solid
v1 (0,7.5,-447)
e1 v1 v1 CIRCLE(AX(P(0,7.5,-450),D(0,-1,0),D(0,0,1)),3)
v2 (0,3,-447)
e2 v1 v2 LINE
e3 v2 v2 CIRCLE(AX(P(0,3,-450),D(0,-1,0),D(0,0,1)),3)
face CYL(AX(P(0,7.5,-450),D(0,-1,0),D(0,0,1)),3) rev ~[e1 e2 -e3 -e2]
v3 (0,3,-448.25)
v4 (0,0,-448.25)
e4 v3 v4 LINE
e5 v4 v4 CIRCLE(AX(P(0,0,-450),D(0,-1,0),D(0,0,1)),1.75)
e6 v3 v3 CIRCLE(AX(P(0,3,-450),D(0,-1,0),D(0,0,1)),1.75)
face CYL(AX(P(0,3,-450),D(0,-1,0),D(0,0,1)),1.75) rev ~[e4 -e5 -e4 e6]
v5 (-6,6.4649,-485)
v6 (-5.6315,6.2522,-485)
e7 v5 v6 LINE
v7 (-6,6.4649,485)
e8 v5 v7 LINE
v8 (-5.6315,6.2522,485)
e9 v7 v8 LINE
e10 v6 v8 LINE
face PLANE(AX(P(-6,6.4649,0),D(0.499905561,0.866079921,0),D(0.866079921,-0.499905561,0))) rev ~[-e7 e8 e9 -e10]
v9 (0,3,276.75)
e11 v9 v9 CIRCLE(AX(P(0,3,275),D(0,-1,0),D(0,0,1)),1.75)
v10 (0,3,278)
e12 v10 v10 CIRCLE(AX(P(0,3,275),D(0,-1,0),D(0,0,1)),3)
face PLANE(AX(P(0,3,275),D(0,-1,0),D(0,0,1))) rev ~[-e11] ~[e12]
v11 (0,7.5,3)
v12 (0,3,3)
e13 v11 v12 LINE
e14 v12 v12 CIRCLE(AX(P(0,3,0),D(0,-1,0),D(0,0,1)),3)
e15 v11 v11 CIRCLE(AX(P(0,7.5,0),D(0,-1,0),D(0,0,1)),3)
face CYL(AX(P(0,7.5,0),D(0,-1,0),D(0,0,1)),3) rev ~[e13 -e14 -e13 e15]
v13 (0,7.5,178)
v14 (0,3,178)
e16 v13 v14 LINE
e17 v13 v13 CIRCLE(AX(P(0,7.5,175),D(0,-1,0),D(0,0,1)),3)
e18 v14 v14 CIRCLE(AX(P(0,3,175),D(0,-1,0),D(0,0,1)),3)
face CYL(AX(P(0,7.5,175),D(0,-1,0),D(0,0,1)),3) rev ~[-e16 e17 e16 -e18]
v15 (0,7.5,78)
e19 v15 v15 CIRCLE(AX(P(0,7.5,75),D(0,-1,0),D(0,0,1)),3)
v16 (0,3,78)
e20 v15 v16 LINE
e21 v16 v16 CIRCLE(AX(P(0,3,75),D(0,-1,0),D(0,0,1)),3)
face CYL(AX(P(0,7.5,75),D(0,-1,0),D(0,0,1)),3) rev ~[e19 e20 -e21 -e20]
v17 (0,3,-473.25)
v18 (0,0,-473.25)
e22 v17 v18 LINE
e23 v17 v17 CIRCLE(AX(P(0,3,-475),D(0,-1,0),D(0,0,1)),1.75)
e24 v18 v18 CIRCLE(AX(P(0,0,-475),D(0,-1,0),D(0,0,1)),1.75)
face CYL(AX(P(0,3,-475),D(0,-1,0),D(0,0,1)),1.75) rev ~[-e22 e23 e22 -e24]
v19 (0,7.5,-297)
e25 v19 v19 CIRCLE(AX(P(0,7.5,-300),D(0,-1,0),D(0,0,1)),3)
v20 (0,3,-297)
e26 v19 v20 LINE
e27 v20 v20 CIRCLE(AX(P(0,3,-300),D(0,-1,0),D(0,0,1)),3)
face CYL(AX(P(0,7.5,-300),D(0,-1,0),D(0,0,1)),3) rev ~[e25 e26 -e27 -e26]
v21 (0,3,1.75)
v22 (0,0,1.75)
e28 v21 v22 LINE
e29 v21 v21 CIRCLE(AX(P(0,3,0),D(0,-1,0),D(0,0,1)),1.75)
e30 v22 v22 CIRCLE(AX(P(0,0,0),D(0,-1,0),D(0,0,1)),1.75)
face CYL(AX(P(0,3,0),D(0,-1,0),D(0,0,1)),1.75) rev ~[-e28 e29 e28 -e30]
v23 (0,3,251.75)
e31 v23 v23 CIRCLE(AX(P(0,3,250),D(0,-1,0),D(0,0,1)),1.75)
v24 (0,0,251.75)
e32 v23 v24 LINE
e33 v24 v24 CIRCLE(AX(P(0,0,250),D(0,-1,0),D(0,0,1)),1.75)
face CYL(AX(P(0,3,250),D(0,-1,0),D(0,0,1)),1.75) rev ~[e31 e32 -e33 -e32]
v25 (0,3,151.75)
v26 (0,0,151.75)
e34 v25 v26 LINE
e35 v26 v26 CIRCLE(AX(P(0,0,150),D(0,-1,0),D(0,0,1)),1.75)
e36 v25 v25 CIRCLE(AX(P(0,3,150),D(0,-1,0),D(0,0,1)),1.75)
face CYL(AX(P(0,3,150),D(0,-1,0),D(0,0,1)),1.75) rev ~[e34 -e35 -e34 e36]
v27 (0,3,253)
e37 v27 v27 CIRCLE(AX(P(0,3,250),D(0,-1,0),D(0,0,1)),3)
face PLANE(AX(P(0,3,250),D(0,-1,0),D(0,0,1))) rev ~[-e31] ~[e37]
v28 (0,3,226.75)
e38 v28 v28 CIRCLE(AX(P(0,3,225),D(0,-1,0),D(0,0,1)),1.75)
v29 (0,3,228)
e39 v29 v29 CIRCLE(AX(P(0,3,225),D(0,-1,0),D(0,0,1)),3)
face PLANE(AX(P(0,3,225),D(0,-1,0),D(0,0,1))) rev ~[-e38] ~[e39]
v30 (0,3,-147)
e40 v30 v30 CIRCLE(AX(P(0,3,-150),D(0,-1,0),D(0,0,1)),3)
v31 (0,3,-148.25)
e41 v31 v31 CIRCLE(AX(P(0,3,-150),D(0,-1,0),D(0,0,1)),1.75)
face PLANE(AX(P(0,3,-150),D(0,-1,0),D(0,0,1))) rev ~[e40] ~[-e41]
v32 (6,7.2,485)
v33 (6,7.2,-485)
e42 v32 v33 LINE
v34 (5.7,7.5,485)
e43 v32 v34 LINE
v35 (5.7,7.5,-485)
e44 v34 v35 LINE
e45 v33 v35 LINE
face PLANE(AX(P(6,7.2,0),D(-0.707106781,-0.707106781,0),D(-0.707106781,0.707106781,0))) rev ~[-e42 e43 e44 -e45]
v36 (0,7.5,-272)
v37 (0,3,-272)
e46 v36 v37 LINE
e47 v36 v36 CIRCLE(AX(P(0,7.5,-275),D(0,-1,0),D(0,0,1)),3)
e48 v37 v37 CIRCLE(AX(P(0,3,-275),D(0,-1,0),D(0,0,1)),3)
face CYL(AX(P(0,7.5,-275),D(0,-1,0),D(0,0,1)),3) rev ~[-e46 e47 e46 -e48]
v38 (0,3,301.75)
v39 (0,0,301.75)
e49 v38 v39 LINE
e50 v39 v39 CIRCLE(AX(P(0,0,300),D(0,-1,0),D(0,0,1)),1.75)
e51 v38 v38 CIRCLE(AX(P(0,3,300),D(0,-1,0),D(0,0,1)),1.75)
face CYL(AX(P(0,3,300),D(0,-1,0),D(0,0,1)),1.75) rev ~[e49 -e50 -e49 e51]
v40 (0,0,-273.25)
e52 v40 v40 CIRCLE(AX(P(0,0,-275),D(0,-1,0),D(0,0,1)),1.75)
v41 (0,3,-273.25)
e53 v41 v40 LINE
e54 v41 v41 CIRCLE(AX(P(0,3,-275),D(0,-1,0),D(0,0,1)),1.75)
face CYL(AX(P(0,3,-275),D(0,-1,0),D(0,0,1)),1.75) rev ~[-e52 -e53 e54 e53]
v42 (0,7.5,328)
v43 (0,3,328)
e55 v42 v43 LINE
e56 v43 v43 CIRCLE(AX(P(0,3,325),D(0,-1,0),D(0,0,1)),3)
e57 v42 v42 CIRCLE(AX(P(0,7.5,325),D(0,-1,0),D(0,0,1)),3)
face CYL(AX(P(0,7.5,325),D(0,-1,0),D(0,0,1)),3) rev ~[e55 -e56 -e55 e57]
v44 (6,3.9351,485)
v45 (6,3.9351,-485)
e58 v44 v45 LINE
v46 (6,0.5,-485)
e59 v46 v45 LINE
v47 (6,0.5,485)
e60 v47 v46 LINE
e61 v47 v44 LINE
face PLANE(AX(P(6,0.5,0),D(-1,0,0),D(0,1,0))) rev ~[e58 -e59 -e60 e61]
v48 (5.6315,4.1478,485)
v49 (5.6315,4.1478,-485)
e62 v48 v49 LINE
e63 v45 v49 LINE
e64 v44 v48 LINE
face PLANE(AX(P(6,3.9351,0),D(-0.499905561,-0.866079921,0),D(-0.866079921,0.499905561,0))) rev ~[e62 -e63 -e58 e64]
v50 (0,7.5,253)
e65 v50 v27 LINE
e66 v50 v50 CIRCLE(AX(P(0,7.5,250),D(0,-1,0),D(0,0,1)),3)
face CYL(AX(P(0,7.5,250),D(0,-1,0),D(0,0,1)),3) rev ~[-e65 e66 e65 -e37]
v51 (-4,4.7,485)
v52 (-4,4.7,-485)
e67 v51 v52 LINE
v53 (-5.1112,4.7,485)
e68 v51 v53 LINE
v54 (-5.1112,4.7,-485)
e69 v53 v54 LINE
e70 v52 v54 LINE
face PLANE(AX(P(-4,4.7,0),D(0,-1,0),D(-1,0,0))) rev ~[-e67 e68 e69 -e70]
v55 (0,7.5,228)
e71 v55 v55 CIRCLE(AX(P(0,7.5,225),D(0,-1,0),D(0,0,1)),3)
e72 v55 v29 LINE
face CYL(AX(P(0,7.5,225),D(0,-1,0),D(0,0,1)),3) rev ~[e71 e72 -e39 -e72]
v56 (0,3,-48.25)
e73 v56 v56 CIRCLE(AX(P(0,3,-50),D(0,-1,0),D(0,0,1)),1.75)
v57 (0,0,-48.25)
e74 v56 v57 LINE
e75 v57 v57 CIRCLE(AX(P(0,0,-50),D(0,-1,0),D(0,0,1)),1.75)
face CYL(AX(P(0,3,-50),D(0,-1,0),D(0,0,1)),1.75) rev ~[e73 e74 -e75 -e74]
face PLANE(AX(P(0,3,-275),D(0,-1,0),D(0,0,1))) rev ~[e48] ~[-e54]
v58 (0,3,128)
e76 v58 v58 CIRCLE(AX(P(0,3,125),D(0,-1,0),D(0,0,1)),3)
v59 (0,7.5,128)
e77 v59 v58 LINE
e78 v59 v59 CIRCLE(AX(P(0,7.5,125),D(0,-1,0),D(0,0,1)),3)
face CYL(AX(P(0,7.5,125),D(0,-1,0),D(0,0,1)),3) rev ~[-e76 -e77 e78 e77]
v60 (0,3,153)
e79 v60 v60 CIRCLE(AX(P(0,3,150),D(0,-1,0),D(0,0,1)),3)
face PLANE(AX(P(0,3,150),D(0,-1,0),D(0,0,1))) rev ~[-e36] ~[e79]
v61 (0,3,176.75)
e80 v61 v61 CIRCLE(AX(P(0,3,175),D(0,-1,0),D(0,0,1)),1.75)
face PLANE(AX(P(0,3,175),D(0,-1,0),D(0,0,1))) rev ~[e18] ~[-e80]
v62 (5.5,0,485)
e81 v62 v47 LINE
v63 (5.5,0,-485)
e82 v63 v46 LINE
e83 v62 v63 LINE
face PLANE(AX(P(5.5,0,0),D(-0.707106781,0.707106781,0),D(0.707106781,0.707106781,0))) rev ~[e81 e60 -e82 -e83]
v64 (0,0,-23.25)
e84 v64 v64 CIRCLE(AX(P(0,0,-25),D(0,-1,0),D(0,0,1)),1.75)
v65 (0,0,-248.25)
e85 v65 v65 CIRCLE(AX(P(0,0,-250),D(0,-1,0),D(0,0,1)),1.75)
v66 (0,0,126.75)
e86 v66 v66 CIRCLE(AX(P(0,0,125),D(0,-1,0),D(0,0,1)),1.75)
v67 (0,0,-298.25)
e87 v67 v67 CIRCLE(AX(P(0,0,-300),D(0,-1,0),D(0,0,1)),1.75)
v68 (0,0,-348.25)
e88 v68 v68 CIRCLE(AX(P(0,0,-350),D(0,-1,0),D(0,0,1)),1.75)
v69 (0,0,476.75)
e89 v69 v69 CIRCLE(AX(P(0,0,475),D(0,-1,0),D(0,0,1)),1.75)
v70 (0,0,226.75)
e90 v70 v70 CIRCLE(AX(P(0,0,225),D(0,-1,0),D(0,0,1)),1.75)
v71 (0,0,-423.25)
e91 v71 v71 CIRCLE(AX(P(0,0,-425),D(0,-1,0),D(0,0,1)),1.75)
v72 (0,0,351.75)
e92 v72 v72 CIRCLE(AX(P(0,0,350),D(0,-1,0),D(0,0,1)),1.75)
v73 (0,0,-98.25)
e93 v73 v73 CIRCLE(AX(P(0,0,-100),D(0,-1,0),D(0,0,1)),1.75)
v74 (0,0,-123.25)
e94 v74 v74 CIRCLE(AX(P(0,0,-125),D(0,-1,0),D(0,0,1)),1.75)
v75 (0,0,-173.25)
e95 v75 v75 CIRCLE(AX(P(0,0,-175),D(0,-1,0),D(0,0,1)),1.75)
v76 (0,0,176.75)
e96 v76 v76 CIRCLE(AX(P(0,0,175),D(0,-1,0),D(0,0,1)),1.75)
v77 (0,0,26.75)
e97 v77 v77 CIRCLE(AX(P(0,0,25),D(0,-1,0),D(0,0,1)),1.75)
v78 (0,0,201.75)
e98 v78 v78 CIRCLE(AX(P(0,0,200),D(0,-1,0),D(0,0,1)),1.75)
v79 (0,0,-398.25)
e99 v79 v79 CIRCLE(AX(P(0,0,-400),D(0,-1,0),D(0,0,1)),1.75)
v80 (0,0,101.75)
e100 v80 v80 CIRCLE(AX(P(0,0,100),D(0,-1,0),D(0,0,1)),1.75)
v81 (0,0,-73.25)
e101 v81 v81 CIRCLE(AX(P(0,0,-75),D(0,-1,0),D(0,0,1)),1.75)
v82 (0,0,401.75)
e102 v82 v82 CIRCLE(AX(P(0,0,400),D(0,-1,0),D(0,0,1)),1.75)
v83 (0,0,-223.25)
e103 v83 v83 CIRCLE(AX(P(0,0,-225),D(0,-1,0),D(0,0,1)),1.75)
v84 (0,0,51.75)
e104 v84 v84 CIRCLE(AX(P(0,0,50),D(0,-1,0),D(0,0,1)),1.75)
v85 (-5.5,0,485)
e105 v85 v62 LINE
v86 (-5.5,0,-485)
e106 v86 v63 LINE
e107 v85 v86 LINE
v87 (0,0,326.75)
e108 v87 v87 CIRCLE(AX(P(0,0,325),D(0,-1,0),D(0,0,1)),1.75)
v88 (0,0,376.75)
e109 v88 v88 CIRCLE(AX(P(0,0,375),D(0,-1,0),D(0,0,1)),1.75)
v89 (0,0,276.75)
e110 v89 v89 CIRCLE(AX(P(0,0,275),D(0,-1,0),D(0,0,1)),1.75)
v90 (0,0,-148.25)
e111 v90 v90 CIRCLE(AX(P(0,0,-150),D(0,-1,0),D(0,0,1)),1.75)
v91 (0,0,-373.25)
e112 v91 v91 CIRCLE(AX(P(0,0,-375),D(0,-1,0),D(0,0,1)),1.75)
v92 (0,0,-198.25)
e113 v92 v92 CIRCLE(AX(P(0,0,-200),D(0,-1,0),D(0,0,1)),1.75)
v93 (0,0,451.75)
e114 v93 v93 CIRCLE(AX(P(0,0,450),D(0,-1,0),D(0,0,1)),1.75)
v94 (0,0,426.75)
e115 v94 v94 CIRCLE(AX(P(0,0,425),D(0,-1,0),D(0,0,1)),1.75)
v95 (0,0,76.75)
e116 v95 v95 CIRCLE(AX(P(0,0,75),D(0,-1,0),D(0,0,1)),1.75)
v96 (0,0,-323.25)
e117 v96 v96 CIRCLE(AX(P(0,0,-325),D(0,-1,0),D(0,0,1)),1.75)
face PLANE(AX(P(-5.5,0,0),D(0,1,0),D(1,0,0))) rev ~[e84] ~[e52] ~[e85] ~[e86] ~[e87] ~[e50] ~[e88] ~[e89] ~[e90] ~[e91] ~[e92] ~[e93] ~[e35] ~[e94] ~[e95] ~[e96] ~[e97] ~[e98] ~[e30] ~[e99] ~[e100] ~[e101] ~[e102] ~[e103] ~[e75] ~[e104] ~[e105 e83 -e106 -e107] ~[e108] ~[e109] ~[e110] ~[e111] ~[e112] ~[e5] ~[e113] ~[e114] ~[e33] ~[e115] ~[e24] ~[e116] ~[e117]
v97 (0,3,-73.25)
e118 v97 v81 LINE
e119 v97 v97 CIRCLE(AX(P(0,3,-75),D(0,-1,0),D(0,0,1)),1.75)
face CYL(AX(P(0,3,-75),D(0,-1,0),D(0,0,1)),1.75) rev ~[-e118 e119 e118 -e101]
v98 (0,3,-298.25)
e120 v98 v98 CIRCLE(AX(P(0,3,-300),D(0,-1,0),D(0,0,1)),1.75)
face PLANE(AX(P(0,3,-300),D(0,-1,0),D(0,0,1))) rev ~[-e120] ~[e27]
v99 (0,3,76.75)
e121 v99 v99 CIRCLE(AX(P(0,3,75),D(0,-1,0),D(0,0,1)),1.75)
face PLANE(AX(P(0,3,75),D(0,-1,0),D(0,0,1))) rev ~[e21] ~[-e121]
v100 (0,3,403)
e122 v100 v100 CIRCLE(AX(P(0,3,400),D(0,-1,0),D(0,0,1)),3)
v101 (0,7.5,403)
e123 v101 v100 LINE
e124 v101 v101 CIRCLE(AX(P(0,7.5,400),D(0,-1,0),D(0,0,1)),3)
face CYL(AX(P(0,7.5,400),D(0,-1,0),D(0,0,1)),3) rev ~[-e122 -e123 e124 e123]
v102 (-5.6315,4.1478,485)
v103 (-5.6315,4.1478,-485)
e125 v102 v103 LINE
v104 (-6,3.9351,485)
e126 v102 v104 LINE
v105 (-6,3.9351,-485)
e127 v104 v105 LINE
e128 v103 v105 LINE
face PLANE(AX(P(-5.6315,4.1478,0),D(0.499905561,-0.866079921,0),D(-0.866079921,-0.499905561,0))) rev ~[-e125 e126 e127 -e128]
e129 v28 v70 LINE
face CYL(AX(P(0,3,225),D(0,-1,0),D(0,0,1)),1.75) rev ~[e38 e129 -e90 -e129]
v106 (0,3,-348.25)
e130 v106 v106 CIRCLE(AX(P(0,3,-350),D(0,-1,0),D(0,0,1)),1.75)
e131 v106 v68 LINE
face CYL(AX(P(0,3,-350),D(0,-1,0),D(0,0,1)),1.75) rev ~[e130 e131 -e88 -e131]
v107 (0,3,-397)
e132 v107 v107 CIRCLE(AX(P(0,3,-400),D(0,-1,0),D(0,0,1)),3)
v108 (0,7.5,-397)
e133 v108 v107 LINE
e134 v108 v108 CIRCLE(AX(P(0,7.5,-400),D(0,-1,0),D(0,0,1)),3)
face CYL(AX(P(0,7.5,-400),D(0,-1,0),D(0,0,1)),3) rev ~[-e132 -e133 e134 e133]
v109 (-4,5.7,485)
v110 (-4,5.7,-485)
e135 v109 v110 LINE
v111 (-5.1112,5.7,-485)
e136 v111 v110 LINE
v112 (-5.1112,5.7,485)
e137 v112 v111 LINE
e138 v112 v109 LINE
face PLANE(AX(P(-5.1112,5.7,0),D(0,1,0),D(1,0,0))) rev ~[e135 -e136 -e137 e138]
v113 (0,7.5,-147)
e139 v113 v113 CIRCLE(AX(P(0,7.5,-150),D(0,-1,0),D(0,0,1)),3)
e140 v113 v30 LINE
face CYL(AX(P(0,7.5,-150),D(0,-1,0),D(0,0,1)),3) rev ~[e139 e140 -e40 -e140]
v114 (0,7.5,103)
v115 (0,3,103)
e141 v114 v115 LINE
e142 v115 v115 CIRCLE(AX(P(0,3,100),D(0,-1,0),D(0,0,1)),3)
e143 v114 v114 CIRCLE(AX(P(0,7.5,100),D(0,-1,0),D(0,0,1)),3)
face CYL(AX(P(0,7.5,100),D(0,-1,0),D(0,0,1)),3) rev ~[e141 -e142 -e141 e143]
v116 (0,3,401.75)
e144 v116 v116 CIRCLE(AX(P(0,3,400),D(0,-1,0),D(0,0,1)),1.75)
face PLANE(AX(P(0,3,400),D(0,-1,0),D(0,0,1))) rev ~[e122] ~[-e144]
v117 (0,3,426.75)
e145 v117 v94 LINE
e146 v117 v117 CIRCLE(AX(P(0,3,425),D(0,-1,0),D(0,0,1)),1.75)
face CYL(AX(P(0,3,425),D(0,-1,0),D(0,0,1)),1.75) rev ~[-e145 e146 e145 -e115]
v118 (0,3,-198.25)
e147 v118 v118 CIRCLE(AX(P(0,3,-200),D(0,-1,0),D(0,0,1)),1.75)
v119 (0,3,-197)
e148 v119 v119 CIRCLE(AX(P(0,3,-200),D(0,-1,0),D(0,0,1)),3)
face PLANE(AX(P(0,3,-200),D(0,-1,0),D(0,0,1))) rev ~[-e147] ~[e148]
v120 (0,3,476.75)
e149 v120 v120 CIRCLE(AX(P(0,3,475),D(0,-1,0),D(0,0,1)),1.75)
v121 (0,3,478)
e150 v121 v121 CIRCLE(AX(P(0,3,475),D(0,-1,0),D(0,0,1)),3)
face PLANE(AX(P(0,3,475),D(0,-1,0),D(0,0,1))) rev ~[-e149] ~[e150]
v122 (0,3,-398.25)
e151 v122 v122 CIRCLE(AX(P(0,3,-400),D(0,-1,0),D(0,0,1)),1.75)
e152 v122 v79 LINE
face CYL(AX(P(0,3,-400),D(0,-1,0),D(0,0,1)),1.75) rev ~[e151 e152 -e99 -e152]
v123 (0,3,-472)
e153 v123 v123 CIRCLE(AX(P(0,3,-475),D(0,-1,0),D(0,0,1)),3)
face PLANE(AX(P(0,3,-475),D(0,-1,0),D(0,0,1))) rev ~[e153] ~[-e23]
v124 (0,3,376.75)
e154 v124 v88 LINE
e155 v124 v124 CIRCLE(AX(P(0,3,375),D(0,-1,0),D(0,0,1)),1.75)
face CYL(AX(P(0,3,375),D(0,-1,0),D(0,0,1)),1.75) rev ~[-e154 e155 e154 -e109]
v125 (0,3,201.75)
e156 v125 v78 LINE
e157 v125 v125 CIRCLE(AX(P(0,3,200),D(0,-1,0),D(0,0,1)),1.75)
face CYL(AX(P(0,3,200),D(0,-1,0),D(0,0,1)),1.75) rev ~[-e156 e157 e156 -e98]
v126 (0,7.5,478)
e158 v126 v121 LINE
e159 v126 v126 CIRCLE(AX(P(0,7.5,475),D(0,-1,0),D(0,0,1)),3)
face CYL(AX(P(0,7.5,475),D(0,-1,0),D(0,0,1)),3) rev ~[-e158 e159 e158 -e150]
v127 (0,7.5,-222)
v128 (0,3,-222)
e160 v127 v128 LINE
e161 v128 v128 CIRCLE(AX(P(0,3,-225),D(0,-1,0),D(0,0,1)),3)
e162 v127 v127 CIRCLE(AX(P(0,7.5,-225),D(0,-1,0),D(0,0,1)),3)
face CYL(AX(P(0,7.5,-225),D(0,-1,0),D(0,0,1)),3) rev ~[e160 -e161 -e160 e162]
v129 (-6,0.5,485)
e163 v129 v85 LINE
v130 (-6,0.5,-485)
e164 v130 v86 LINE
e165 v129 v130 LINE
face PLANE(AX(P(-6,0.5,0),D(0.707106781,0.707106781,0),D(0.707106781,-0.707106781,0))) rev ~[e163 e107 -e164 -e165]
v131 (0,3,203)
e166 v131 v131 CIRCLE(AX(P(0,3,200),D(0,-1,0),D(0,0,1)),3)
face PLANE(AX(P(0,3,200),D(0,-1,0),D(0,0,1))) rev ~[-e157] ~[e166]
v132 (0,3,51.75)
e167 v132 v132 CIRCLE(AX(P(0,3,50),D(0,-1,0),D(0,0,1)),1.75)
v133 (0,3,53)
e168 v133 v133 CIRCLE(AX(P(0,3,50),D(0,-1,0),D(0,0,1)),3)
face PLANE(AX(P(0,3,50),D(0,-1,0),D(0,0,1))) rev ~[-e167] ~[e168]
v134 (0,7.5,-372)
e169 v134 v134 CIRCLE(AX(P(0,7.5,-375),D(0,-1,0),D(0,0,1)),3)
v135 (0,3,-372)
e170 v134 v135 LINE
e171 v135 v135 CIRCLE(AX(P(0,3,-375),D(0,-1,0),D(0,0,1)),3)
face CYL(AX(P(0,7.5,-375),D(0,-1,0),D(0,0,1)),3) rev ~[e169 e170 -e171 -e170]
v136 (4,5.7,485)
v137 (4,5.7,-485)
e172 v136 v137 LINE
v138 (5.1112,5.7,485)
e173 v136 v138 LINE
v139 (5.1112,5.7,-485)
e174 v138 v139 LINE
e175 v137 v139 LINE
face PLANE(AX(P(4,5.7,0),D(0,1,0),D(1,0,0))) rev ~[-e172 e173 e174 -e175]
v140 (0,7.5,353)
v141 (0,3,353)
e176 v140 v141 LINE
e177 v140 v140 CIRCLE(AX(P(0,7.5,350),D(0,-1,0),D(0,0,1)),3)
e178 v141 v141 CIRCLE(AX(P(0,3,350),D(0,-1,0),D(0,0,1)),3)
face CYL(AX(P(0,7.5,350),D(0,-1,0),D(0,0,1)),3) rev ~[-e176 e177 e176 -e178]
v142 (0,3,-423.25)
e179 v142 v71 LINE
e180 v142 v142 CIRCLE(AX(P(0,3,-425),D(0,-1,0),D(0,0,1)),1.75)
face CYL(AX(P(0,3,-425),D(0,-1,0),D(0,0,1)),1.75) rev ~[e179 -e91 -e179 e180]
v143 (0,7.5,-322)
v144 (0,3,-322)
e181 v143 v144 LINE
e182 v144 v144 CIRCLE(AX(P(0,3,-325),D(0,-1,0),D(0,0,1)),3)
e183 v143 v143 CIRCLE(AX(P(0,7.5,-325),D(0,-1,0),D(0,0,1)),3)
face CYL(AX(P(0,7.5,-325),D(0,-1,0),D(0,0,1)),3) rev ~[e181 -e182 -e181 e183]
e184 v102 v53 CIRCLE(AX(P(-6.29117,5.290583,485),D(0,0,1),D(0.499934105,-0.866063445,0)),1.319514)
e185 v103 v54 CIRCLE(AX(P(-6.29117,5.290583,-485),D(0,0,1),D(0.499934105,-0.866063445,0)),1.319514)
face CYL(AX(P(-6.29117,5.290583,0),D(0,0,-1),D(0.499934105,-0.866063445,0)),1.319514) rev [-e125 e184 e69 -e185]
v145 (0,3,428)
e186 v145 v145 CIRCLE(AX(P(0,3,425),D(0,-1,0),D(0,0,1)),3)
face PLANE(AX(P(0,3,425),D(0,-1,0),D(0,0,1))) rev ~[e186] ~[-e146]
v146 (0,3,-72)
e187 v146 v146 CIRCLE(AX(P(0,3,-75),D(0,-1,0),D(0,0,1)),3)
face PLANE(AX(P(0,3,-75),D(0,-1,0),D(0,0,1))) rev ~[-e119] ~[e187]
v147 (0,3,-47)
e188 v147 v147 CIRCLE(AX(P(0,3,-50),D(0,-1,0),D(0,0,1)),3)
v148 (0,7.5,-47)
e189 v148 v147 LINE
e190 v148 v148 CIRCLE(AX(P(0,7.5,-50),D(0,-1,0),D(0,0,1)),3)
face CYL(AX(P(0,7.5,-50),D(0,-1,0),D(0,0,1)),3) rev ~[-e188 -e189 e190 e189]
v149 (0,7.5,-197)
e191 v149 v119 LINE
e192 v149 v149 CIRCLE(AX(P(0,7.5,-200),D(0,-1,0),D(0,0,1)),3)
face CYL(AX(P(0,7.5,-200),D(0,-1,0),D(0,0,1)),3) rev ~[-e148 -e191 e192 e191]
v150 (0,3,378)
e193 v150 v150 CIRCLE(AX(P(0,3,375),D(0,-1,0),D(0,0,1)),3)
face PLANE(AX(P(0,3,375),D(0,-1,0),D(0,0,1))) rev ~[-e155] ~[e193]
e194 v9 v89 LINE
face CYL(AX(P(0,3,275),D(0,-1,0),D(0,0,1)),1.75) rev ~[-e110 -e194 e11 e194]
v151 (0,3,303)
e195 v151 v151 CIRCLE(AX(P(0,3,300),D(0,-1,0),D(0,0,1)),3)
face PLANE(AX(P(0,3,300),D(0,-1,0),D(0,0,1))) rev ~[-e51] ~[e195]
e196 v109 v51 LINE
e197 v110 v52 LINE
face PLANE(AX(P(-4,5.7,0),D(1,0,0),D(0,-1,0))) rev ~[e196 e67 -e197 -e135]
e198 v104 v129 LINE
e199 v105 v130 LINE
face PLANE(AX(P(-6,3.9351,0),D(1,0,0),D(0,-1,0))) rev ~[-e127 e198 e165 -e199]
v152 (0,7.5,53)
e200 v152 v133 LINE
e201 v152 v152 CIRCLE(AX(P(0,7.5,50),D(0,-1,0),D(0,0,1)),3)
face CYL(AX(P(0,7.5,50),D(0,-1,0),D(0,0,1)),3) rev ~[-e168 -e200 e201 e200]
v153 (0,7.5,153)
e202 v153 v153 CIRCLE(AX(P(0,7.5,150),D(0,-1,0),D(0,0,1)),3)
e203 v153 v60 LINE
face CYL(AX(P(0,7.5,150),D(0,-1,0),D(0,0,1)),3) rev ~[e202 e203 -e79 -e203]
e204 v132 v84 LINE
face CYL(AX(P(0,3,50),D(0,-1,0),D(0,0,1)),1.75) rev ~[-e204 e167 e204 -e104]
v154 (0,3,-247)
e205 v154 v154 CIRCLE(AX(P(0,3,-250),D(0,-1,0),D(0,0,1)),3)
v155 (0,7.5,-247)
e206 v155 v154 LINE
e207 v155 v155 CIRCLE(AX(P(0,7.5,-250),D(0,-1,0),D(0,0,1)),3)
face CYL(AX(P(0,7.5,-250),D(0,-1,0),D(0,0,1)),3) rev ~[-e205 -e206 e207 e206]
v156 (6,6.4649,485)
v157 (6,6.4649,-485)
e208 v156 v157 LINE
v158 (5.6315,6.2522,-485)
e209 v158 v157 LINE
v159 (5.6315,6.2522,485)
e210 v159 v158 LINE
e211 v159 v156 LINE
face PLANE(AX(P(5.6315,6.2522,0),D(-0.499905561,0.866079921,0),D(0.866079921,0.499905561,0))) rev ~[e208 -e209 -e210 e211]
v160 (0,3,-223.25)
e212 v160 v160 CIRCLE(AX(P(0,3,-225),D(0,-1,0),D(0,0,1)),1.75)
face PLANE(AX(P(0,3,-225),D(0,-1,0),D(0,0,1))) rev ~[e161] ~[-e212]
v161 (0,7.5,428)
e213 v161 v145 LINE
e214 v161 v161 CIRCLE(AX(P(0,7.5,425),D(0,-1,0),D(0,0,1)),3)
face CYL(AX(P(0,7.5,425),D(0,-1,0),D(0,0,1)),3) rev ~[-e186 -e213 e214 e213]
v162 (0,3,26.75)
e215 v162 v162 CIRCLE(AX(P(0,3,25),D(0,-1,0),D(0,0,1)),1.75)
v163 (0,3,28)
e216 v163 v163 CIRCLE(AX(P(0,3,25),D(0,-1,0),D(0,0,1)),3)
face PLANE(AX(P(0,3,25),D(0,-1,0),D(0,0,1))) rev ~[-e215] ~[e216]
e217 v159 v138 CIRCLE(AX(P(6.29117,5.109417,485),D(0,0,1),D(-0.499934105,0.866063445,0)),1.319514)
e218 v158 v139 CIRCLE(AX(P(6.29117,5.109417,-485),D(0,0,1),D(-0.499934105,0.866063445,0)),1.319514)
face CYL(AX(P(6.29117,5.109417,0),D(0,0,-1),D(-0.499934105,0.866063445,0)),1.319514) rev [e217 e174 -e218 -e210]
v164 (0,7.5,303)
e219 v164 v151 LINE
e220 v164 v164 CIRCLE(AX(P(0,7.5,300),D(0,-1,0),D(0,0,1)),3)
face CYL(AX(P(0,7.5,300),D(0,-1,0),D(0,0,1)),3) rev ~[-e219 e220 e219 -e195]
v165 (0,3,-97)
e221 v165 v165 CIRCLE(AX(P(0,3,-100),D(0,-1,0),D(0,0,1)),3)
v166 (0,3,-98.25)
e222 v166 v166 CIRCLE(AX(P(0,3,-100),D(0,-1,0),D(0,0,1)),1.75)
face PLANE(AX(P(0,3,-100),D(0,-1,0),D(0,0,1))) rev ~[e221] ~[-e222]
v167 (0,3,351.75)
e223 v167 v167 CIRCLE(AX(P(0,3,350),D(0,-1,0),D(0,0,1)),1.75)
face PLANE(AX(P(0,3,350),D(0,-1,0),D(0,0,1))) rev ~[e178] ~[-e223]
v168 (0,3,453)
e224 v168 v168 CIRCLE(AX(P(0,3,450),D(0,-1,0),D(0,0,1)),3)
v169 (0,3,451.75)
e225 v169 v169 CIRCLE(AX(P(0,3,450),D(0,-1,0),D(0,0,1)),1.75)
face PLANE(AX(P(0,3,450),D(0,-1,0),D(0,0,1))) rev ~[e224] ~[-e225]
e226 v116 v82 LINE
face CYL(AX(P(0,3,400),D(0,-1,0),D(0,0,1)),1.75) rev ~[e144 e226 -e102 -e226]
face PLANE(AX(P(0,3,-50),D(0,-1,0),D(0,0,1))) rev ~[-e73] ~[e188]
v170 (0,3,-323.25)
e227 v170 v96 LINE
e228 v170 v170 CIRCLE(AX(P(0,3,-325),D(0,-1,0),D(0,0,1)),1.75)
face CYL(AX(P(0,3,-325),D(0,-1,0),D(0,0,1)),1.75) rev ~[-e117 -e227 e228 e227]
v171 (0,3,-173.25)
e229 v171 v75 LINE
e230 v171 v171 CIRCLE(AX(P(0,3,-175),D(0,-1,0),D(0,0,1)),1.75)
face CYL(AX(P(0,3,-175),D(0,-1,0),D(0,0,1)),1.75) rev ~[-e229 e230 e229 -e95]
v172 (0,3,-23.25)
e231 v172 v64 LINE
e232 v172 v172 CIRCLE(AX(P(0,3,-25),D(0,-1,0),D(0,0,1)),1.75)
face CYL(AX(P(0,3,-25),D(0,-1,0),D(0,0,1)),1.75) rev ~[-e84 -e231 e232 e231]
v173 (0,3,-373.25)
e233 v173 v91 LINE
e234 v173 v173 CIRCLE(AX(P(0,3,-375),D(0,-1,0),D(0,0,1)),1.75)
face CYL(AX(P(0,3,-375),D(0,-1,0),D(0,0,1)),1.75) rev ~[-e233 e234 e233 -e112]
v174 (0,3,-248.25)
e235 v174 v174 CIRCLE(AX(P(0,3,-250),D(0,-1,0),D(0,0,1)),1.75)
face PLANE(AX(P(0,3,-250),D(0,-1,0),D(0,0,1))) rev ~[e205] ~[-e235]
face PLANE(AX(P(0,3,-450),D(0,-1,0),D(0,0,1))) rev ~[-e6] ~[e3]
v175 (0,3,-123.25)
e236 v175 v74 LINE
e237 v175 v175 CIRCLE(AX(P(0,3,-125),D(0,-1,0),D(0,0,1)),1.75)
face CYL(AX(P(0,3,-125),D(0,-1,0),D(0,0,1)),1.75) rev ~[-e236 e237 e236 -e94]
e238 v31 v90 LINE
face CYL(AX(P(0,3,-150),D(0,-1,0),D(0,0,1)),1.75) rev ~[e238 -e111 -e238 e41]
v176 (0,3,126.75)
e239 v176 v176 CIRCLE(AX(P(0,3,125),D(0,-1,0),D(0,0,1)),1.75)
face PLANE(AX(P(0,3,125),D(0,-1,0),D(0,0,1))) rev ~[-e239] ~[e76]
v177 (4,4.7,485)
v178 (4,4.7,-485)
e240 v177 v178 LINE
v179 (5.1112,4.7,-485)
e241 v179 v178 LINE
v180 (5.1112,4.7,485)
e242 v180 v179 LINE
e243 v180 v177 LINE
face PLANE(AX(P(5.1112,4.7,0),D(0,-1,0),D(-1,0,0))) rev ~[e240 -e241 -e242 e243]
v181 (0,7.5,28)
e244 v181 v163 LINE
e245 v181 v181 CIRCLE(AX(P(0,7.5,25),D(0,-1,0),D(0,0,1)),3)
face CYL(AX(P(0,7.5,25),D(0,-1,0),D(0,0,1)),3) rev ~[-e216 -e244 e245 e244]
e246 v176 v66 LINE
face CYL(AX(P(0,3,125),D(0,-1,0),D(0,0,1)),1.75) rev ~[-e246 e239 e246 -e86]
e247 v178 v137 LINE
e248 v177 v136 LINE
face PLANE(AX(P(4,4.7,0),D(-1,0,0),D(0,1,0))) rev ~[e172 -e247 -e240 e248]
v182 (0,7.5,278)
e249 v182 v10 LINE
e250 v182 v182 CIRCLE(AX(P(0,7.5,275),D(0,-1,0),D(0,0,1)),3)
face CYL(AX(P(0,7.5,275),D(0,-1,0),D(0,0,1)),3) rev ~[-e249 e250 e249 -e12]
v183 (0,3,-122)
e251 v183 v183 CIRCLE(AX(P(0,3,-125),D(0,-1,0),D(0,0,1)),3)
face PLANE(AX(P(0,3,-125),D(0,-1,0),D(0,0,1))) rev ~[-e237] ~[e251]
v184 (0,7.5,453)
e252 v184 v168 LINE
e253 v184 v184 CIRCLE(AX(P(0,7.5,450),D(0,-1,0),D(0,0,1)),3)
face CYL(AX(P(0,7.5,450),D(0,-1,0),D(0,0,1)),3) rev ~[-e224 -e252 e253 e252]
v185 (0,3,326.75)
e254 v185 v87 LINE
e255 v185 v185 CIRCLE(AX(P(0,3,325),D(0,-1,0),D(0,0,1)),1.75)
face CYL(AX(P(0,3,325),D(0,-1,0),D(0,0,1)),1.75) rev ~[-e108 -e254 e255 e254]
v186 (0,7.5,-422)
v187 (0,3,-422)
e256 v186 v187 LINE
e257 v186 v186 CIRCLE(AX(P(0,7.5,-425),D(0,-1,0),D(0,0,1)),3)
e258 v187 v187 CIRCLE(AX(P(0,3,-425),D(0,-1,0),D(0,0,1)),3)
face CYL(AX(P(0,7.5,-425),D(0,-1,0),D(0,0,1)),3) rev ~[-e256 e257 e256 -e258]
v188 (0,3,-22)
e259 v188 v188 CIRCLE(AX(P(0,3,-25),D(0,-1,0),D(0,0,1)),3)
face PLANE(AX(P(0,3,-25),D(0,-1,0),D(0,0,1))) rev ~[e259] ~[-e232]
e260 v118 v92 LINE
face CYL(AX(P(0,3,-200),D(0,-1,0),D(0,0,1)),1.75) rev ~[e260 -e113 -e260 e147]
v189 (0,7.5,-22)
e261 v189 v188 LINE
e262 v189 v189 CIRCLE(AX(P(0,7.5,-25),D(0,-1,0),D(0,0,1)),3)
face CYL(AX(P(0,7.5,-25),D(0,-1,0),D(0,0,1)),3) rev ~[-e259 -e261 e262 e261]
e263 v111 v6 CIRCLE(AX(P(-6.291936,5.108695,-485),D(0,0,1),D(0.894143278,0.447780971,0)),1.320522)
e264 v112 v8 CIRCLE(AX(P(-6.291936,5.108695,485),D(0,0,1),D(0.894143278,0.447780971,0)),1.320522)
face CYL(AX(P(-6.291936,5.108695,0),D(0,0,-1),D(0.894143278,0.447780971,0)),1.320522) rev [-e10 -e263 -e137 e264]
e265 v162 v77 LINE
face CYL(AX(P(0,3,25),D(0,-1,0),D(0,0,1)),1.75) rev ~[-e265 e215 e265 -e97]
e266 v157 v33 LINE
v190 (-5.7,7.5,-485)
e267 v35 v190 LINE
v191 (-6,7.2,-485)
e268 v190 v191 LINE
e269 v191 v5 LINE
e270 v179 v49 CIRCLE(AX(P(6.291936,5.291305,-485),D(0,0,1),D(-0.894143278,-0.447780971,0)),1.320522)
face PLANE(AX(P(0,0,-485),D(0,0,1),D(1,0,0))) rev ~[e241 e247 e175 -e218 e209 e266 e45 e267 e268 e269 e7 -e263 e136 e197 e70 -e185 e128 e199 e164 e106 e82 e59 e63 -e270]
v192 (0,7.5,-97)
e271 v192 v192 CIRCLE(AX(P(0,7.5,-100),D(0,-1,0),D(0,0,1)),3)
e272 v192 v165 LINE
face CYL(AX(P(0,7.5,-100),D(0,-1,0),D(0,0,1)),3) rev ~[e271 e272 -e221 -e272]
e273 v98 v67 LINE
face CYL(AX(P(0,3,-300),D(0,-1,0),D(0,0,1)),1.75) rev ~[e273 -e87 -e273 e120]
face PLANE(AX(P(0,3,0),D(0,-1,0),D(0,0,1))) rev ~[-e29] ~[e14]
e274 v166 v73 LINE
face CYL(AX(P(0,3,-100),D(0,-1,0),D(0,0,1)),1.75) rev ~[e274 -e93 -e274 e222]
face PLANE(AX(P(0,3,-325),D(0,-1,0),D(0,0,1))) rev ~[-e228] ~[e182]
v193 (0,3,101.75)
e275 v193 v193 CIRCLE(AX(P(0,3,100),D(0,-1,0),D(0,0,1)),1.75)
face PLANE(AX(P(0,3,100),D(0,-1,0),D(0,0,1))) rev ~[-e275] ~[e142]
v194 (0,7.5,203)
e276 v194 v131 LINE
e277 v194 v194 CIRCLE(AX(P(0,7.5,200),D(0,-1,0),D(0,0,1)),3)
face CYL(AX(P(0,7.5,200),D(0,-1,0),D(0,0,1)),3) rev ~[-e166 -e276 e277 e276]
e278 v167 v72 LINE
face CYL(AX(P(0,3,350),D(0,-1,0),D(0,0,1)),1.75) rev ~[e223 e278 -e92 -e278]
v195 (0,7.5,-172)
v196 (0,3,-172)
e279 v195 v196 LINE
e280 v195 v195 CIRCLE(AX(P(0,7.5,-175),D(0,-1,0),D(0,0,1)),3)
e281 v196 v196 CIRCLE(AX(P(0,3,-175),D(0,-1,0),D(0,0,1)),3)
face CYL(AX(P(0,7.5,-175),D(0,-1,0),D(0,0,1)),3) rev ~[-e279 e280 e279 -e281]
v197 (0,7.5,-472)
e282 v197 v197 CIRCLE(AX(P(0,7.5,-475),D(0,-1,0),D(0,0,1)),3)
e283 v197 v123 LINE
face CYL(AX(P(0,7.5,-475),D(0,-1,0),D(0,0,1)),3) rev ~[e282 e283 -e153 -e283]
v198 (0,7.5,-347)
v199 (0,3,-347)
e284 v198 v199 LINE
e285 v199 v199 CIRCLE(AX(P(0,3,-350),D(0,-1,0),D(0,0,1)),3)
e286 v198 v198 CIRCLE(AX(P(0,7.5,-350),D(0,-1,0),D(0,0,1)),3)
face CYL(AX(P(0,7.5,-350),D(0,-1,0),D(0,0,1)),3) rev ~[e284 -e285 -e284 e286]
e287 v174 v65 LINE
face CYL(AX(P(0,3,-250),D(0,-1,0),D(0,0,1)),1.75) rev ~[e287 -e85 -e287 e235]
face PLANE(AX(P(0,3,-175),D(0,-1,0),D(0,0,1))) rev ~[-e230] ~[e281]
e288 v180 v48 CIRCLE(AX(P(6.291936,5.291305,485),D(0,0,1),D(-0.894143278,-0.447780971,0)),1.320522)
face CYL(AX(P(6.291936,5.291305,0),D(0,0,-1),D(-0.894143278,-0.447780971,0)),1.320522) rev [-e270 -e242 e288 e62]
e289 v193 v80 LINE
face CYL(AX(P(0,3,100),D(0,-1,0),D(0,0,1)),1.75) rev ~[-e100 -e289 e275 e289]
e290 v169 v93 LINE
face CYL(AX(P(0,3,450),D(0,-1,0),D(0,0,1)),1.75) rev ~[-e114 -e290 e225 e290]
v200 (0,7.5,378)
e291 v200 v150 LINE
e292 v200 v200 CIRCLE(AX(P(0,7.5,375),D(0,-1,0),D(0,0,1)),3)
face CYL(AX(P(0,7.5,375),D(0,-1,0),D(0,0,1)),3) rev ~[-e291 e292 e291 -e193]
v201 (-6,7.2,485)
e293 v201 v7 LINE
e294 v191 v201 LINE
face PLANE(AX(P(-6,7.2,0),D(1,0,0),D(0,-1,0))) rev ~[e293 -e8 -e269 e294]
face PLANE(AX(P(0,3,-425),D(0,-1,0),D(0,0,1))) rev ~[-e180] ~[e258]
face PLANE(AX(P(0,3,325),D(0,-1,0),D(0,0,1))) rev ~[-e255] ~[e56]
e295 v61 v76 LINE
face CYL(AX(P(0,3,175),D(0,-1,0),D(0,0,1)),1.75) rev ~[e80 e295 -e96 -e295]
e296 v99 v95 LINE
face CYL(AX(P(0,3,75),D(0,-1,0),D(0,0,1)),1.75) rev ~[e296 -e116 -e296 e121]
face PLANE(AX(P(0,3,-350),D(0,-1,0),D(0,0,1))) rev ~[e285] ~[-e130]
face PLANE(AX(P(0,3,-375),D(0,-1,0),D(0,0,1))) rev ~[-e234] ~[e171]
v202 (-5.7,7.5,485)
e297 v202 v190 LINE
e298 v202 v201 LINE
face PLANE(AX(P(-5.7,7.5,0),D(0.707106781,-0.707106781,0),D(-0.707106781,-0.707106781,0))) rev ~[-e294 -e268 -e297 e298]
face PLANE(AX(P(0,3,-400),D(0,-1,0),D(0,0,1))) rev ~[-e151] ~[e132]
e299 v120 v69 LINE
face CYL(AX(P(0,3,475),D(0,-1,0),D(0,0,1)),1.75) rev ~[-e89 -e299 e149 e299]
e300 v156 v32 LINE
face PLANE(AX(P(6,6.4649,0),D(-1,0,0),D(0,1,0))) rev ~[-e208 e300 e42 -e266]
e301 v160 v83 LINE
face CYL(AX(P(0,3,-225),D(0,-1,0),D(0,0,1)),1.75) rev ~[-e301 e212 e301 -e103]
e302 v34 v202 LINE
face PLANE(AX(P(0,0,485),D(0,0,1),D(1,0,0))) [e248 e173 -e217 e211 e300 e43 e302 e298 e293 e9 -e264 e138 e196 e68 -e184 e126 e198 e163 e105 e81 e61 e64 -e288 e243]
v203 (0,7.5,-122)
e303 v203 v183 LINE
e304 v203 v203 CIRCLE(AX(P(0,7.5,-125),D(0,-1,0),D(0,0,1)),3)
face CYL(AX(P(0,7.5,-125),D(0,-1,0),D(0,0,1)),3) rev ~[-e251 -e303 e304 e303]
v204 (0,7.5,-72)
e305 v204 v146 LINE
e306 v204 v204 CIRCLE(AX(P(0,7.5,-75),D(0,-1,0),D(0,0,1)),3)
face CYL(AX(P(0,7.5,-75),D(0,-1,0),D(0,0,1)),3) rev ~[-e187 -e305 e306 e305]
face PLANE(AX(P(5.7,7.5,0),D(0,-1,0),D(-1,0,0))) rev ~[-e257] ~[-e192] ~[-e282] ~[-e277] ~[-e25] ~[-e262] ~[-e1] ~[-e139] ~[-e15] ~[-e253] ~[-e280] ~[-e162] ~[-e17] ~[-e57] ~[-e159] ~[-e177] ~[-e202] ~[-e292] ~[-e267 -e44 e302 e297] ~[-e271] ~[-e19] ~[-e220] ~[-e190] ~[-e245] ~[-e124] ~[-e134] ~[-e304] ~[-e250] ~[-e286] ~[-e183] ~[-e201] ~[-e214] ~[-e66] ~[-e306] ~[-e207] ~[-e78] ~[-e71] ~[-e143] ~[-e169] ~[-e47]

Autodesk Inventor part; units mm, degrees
sketch "Sketch_12" plane through (0, 0, 0) normal (0, 0, 1) x (1, 0, 0)
  line L0 (-6, 7.2) -> (-6, 6.4649)
  line L1 (-6, 6.4649) -> (-5.6315, 6.2522)
  arc A0 (-5.1112, 5.7) -> (-5.6315, 6.2522) centre (-6.2915, 5.109) ccw
  line L2 (-5.1112, 5.7) -> (-4, 5.7)
  line L3 (-4, 5.7) -> (-4, 4.7)
  line L4 (-4, 4.7) -> (-5.1112, 4.7)
  arc A1 (-5.6315, 4.1478) -> (-5.1112, 4.7) centre (-6.2915, 5.291) ccw
  line L5 (-5.6315, 4.1478) -> (-6, 3.9351)
  line L6 (-6, 3.9351) -> (-6, 0.5)
  line L7 (-6, 0.5) -> (-5.5, 0)
  line L8 (-5.5, 0) -> (5.5, 0)
  line L9 (5.5, 0) -> (6, 0.5)
  line L10 (6, 0.5) -> (6, 3.9351)
  line L11 (6, 3.9351) -> (5.6315, 4.1478)
  arc A2 (5.1112, 4.7) -> (5.6315, 4.1478) centre (6.2915, 5.291) ccw
  line L12 (5.1112, 4.7) -> (4, 4.7)
  line L13 (4, 4.7) -> (4, 5.7)
  line L14 (4, 5.7) -> (5.1112, 5.7)
  arc A3 (5.6315, 6.2522) -> (5.1112, 5.7) centre (6.2915, 5.109) ccw
  line L15 (5.6315, 6.2522) -> (6, 6.4649)
  line L16 (6, 6.4649) -> (6, 7.2)
  line L17 (6, 7.2) -> (5.7, 7.5)
  line L18 (5.7, 7.5) -> (-5.7, 7.5)
  line L19 (-5.7, 7.5) -> (-6, 7.2)
extrude "Extrusion1" add sketch "Sketch_12" along normal mid plane 970
sketch "Sketch2" plane through (-5.7, 7.5, 485) normal (0, 1, 0) x (1, 0, 0)
  point P0 (5.7, 960)
hole "Hole1" at (0, 7.5, -475) direction (0, -1, 0) diameter 3.5 depth 7.5 counterbore diameter 6 counterbore depth 4.5
pattern_linear "Rectangular Pattern1" count 39 spacing 25 along (0, 0, 1) of "Hole1"
ref_plane "rail_to_adjusting_block_XY" through (0, 0, -475) normal (0, 1, 0) x (1, 0, 0)
ref_plane "rail_to_adjusting_block_YZ" through (0, 0, -475) normal (1, 0, 0) x (0, 0, -1)
ref_plane "rail_to_adjusting_block_ZX" through (0, 0, -475) normal (0, 0, -1) x (0, 1, 0)
ref_plane "to_block_XY" through (0, 7.5, 242.5) normal (0, 0, 1) x (1, 0, 0)
ref_plane "to_block_YZ" through (0, 7.5, 242.5) normal (1, 0, 0) x (0, 1, 0)
ref_plane "to_block_ZX" through (0, 7.5, 242.5) normal (0, 1, 0) x (0, 0, 1)
ref_plane "to_block_2_XY" through (0, 7.5, -242.5) normal (0, 0, 1) x (1, 0, 0)
ref_plane "to_block_2_YZ" through (0, 7.5, -242.5) normal (1, 0, 0) x (0, 1, 0)
ref_plane "to_block_2_ZX" through (0, 7.5, -242.5) normal (0, 1, 0) x (0, 0, 1)
ref_plane "to_kue_XY" through (0, 0, 0) normal (0, 1, 0) x (1, 0, 0)
ref_plane "to_kue_YZ" through (0, 0, 0) normal (1, 0, 0) x (0, 0, -1)
ref_plane "to_kue_ZX" through (0, 0, 0) normal (0, 0, -1) x (0, 1, 0)
properties part number "SSE2B-MX13-970_r"
